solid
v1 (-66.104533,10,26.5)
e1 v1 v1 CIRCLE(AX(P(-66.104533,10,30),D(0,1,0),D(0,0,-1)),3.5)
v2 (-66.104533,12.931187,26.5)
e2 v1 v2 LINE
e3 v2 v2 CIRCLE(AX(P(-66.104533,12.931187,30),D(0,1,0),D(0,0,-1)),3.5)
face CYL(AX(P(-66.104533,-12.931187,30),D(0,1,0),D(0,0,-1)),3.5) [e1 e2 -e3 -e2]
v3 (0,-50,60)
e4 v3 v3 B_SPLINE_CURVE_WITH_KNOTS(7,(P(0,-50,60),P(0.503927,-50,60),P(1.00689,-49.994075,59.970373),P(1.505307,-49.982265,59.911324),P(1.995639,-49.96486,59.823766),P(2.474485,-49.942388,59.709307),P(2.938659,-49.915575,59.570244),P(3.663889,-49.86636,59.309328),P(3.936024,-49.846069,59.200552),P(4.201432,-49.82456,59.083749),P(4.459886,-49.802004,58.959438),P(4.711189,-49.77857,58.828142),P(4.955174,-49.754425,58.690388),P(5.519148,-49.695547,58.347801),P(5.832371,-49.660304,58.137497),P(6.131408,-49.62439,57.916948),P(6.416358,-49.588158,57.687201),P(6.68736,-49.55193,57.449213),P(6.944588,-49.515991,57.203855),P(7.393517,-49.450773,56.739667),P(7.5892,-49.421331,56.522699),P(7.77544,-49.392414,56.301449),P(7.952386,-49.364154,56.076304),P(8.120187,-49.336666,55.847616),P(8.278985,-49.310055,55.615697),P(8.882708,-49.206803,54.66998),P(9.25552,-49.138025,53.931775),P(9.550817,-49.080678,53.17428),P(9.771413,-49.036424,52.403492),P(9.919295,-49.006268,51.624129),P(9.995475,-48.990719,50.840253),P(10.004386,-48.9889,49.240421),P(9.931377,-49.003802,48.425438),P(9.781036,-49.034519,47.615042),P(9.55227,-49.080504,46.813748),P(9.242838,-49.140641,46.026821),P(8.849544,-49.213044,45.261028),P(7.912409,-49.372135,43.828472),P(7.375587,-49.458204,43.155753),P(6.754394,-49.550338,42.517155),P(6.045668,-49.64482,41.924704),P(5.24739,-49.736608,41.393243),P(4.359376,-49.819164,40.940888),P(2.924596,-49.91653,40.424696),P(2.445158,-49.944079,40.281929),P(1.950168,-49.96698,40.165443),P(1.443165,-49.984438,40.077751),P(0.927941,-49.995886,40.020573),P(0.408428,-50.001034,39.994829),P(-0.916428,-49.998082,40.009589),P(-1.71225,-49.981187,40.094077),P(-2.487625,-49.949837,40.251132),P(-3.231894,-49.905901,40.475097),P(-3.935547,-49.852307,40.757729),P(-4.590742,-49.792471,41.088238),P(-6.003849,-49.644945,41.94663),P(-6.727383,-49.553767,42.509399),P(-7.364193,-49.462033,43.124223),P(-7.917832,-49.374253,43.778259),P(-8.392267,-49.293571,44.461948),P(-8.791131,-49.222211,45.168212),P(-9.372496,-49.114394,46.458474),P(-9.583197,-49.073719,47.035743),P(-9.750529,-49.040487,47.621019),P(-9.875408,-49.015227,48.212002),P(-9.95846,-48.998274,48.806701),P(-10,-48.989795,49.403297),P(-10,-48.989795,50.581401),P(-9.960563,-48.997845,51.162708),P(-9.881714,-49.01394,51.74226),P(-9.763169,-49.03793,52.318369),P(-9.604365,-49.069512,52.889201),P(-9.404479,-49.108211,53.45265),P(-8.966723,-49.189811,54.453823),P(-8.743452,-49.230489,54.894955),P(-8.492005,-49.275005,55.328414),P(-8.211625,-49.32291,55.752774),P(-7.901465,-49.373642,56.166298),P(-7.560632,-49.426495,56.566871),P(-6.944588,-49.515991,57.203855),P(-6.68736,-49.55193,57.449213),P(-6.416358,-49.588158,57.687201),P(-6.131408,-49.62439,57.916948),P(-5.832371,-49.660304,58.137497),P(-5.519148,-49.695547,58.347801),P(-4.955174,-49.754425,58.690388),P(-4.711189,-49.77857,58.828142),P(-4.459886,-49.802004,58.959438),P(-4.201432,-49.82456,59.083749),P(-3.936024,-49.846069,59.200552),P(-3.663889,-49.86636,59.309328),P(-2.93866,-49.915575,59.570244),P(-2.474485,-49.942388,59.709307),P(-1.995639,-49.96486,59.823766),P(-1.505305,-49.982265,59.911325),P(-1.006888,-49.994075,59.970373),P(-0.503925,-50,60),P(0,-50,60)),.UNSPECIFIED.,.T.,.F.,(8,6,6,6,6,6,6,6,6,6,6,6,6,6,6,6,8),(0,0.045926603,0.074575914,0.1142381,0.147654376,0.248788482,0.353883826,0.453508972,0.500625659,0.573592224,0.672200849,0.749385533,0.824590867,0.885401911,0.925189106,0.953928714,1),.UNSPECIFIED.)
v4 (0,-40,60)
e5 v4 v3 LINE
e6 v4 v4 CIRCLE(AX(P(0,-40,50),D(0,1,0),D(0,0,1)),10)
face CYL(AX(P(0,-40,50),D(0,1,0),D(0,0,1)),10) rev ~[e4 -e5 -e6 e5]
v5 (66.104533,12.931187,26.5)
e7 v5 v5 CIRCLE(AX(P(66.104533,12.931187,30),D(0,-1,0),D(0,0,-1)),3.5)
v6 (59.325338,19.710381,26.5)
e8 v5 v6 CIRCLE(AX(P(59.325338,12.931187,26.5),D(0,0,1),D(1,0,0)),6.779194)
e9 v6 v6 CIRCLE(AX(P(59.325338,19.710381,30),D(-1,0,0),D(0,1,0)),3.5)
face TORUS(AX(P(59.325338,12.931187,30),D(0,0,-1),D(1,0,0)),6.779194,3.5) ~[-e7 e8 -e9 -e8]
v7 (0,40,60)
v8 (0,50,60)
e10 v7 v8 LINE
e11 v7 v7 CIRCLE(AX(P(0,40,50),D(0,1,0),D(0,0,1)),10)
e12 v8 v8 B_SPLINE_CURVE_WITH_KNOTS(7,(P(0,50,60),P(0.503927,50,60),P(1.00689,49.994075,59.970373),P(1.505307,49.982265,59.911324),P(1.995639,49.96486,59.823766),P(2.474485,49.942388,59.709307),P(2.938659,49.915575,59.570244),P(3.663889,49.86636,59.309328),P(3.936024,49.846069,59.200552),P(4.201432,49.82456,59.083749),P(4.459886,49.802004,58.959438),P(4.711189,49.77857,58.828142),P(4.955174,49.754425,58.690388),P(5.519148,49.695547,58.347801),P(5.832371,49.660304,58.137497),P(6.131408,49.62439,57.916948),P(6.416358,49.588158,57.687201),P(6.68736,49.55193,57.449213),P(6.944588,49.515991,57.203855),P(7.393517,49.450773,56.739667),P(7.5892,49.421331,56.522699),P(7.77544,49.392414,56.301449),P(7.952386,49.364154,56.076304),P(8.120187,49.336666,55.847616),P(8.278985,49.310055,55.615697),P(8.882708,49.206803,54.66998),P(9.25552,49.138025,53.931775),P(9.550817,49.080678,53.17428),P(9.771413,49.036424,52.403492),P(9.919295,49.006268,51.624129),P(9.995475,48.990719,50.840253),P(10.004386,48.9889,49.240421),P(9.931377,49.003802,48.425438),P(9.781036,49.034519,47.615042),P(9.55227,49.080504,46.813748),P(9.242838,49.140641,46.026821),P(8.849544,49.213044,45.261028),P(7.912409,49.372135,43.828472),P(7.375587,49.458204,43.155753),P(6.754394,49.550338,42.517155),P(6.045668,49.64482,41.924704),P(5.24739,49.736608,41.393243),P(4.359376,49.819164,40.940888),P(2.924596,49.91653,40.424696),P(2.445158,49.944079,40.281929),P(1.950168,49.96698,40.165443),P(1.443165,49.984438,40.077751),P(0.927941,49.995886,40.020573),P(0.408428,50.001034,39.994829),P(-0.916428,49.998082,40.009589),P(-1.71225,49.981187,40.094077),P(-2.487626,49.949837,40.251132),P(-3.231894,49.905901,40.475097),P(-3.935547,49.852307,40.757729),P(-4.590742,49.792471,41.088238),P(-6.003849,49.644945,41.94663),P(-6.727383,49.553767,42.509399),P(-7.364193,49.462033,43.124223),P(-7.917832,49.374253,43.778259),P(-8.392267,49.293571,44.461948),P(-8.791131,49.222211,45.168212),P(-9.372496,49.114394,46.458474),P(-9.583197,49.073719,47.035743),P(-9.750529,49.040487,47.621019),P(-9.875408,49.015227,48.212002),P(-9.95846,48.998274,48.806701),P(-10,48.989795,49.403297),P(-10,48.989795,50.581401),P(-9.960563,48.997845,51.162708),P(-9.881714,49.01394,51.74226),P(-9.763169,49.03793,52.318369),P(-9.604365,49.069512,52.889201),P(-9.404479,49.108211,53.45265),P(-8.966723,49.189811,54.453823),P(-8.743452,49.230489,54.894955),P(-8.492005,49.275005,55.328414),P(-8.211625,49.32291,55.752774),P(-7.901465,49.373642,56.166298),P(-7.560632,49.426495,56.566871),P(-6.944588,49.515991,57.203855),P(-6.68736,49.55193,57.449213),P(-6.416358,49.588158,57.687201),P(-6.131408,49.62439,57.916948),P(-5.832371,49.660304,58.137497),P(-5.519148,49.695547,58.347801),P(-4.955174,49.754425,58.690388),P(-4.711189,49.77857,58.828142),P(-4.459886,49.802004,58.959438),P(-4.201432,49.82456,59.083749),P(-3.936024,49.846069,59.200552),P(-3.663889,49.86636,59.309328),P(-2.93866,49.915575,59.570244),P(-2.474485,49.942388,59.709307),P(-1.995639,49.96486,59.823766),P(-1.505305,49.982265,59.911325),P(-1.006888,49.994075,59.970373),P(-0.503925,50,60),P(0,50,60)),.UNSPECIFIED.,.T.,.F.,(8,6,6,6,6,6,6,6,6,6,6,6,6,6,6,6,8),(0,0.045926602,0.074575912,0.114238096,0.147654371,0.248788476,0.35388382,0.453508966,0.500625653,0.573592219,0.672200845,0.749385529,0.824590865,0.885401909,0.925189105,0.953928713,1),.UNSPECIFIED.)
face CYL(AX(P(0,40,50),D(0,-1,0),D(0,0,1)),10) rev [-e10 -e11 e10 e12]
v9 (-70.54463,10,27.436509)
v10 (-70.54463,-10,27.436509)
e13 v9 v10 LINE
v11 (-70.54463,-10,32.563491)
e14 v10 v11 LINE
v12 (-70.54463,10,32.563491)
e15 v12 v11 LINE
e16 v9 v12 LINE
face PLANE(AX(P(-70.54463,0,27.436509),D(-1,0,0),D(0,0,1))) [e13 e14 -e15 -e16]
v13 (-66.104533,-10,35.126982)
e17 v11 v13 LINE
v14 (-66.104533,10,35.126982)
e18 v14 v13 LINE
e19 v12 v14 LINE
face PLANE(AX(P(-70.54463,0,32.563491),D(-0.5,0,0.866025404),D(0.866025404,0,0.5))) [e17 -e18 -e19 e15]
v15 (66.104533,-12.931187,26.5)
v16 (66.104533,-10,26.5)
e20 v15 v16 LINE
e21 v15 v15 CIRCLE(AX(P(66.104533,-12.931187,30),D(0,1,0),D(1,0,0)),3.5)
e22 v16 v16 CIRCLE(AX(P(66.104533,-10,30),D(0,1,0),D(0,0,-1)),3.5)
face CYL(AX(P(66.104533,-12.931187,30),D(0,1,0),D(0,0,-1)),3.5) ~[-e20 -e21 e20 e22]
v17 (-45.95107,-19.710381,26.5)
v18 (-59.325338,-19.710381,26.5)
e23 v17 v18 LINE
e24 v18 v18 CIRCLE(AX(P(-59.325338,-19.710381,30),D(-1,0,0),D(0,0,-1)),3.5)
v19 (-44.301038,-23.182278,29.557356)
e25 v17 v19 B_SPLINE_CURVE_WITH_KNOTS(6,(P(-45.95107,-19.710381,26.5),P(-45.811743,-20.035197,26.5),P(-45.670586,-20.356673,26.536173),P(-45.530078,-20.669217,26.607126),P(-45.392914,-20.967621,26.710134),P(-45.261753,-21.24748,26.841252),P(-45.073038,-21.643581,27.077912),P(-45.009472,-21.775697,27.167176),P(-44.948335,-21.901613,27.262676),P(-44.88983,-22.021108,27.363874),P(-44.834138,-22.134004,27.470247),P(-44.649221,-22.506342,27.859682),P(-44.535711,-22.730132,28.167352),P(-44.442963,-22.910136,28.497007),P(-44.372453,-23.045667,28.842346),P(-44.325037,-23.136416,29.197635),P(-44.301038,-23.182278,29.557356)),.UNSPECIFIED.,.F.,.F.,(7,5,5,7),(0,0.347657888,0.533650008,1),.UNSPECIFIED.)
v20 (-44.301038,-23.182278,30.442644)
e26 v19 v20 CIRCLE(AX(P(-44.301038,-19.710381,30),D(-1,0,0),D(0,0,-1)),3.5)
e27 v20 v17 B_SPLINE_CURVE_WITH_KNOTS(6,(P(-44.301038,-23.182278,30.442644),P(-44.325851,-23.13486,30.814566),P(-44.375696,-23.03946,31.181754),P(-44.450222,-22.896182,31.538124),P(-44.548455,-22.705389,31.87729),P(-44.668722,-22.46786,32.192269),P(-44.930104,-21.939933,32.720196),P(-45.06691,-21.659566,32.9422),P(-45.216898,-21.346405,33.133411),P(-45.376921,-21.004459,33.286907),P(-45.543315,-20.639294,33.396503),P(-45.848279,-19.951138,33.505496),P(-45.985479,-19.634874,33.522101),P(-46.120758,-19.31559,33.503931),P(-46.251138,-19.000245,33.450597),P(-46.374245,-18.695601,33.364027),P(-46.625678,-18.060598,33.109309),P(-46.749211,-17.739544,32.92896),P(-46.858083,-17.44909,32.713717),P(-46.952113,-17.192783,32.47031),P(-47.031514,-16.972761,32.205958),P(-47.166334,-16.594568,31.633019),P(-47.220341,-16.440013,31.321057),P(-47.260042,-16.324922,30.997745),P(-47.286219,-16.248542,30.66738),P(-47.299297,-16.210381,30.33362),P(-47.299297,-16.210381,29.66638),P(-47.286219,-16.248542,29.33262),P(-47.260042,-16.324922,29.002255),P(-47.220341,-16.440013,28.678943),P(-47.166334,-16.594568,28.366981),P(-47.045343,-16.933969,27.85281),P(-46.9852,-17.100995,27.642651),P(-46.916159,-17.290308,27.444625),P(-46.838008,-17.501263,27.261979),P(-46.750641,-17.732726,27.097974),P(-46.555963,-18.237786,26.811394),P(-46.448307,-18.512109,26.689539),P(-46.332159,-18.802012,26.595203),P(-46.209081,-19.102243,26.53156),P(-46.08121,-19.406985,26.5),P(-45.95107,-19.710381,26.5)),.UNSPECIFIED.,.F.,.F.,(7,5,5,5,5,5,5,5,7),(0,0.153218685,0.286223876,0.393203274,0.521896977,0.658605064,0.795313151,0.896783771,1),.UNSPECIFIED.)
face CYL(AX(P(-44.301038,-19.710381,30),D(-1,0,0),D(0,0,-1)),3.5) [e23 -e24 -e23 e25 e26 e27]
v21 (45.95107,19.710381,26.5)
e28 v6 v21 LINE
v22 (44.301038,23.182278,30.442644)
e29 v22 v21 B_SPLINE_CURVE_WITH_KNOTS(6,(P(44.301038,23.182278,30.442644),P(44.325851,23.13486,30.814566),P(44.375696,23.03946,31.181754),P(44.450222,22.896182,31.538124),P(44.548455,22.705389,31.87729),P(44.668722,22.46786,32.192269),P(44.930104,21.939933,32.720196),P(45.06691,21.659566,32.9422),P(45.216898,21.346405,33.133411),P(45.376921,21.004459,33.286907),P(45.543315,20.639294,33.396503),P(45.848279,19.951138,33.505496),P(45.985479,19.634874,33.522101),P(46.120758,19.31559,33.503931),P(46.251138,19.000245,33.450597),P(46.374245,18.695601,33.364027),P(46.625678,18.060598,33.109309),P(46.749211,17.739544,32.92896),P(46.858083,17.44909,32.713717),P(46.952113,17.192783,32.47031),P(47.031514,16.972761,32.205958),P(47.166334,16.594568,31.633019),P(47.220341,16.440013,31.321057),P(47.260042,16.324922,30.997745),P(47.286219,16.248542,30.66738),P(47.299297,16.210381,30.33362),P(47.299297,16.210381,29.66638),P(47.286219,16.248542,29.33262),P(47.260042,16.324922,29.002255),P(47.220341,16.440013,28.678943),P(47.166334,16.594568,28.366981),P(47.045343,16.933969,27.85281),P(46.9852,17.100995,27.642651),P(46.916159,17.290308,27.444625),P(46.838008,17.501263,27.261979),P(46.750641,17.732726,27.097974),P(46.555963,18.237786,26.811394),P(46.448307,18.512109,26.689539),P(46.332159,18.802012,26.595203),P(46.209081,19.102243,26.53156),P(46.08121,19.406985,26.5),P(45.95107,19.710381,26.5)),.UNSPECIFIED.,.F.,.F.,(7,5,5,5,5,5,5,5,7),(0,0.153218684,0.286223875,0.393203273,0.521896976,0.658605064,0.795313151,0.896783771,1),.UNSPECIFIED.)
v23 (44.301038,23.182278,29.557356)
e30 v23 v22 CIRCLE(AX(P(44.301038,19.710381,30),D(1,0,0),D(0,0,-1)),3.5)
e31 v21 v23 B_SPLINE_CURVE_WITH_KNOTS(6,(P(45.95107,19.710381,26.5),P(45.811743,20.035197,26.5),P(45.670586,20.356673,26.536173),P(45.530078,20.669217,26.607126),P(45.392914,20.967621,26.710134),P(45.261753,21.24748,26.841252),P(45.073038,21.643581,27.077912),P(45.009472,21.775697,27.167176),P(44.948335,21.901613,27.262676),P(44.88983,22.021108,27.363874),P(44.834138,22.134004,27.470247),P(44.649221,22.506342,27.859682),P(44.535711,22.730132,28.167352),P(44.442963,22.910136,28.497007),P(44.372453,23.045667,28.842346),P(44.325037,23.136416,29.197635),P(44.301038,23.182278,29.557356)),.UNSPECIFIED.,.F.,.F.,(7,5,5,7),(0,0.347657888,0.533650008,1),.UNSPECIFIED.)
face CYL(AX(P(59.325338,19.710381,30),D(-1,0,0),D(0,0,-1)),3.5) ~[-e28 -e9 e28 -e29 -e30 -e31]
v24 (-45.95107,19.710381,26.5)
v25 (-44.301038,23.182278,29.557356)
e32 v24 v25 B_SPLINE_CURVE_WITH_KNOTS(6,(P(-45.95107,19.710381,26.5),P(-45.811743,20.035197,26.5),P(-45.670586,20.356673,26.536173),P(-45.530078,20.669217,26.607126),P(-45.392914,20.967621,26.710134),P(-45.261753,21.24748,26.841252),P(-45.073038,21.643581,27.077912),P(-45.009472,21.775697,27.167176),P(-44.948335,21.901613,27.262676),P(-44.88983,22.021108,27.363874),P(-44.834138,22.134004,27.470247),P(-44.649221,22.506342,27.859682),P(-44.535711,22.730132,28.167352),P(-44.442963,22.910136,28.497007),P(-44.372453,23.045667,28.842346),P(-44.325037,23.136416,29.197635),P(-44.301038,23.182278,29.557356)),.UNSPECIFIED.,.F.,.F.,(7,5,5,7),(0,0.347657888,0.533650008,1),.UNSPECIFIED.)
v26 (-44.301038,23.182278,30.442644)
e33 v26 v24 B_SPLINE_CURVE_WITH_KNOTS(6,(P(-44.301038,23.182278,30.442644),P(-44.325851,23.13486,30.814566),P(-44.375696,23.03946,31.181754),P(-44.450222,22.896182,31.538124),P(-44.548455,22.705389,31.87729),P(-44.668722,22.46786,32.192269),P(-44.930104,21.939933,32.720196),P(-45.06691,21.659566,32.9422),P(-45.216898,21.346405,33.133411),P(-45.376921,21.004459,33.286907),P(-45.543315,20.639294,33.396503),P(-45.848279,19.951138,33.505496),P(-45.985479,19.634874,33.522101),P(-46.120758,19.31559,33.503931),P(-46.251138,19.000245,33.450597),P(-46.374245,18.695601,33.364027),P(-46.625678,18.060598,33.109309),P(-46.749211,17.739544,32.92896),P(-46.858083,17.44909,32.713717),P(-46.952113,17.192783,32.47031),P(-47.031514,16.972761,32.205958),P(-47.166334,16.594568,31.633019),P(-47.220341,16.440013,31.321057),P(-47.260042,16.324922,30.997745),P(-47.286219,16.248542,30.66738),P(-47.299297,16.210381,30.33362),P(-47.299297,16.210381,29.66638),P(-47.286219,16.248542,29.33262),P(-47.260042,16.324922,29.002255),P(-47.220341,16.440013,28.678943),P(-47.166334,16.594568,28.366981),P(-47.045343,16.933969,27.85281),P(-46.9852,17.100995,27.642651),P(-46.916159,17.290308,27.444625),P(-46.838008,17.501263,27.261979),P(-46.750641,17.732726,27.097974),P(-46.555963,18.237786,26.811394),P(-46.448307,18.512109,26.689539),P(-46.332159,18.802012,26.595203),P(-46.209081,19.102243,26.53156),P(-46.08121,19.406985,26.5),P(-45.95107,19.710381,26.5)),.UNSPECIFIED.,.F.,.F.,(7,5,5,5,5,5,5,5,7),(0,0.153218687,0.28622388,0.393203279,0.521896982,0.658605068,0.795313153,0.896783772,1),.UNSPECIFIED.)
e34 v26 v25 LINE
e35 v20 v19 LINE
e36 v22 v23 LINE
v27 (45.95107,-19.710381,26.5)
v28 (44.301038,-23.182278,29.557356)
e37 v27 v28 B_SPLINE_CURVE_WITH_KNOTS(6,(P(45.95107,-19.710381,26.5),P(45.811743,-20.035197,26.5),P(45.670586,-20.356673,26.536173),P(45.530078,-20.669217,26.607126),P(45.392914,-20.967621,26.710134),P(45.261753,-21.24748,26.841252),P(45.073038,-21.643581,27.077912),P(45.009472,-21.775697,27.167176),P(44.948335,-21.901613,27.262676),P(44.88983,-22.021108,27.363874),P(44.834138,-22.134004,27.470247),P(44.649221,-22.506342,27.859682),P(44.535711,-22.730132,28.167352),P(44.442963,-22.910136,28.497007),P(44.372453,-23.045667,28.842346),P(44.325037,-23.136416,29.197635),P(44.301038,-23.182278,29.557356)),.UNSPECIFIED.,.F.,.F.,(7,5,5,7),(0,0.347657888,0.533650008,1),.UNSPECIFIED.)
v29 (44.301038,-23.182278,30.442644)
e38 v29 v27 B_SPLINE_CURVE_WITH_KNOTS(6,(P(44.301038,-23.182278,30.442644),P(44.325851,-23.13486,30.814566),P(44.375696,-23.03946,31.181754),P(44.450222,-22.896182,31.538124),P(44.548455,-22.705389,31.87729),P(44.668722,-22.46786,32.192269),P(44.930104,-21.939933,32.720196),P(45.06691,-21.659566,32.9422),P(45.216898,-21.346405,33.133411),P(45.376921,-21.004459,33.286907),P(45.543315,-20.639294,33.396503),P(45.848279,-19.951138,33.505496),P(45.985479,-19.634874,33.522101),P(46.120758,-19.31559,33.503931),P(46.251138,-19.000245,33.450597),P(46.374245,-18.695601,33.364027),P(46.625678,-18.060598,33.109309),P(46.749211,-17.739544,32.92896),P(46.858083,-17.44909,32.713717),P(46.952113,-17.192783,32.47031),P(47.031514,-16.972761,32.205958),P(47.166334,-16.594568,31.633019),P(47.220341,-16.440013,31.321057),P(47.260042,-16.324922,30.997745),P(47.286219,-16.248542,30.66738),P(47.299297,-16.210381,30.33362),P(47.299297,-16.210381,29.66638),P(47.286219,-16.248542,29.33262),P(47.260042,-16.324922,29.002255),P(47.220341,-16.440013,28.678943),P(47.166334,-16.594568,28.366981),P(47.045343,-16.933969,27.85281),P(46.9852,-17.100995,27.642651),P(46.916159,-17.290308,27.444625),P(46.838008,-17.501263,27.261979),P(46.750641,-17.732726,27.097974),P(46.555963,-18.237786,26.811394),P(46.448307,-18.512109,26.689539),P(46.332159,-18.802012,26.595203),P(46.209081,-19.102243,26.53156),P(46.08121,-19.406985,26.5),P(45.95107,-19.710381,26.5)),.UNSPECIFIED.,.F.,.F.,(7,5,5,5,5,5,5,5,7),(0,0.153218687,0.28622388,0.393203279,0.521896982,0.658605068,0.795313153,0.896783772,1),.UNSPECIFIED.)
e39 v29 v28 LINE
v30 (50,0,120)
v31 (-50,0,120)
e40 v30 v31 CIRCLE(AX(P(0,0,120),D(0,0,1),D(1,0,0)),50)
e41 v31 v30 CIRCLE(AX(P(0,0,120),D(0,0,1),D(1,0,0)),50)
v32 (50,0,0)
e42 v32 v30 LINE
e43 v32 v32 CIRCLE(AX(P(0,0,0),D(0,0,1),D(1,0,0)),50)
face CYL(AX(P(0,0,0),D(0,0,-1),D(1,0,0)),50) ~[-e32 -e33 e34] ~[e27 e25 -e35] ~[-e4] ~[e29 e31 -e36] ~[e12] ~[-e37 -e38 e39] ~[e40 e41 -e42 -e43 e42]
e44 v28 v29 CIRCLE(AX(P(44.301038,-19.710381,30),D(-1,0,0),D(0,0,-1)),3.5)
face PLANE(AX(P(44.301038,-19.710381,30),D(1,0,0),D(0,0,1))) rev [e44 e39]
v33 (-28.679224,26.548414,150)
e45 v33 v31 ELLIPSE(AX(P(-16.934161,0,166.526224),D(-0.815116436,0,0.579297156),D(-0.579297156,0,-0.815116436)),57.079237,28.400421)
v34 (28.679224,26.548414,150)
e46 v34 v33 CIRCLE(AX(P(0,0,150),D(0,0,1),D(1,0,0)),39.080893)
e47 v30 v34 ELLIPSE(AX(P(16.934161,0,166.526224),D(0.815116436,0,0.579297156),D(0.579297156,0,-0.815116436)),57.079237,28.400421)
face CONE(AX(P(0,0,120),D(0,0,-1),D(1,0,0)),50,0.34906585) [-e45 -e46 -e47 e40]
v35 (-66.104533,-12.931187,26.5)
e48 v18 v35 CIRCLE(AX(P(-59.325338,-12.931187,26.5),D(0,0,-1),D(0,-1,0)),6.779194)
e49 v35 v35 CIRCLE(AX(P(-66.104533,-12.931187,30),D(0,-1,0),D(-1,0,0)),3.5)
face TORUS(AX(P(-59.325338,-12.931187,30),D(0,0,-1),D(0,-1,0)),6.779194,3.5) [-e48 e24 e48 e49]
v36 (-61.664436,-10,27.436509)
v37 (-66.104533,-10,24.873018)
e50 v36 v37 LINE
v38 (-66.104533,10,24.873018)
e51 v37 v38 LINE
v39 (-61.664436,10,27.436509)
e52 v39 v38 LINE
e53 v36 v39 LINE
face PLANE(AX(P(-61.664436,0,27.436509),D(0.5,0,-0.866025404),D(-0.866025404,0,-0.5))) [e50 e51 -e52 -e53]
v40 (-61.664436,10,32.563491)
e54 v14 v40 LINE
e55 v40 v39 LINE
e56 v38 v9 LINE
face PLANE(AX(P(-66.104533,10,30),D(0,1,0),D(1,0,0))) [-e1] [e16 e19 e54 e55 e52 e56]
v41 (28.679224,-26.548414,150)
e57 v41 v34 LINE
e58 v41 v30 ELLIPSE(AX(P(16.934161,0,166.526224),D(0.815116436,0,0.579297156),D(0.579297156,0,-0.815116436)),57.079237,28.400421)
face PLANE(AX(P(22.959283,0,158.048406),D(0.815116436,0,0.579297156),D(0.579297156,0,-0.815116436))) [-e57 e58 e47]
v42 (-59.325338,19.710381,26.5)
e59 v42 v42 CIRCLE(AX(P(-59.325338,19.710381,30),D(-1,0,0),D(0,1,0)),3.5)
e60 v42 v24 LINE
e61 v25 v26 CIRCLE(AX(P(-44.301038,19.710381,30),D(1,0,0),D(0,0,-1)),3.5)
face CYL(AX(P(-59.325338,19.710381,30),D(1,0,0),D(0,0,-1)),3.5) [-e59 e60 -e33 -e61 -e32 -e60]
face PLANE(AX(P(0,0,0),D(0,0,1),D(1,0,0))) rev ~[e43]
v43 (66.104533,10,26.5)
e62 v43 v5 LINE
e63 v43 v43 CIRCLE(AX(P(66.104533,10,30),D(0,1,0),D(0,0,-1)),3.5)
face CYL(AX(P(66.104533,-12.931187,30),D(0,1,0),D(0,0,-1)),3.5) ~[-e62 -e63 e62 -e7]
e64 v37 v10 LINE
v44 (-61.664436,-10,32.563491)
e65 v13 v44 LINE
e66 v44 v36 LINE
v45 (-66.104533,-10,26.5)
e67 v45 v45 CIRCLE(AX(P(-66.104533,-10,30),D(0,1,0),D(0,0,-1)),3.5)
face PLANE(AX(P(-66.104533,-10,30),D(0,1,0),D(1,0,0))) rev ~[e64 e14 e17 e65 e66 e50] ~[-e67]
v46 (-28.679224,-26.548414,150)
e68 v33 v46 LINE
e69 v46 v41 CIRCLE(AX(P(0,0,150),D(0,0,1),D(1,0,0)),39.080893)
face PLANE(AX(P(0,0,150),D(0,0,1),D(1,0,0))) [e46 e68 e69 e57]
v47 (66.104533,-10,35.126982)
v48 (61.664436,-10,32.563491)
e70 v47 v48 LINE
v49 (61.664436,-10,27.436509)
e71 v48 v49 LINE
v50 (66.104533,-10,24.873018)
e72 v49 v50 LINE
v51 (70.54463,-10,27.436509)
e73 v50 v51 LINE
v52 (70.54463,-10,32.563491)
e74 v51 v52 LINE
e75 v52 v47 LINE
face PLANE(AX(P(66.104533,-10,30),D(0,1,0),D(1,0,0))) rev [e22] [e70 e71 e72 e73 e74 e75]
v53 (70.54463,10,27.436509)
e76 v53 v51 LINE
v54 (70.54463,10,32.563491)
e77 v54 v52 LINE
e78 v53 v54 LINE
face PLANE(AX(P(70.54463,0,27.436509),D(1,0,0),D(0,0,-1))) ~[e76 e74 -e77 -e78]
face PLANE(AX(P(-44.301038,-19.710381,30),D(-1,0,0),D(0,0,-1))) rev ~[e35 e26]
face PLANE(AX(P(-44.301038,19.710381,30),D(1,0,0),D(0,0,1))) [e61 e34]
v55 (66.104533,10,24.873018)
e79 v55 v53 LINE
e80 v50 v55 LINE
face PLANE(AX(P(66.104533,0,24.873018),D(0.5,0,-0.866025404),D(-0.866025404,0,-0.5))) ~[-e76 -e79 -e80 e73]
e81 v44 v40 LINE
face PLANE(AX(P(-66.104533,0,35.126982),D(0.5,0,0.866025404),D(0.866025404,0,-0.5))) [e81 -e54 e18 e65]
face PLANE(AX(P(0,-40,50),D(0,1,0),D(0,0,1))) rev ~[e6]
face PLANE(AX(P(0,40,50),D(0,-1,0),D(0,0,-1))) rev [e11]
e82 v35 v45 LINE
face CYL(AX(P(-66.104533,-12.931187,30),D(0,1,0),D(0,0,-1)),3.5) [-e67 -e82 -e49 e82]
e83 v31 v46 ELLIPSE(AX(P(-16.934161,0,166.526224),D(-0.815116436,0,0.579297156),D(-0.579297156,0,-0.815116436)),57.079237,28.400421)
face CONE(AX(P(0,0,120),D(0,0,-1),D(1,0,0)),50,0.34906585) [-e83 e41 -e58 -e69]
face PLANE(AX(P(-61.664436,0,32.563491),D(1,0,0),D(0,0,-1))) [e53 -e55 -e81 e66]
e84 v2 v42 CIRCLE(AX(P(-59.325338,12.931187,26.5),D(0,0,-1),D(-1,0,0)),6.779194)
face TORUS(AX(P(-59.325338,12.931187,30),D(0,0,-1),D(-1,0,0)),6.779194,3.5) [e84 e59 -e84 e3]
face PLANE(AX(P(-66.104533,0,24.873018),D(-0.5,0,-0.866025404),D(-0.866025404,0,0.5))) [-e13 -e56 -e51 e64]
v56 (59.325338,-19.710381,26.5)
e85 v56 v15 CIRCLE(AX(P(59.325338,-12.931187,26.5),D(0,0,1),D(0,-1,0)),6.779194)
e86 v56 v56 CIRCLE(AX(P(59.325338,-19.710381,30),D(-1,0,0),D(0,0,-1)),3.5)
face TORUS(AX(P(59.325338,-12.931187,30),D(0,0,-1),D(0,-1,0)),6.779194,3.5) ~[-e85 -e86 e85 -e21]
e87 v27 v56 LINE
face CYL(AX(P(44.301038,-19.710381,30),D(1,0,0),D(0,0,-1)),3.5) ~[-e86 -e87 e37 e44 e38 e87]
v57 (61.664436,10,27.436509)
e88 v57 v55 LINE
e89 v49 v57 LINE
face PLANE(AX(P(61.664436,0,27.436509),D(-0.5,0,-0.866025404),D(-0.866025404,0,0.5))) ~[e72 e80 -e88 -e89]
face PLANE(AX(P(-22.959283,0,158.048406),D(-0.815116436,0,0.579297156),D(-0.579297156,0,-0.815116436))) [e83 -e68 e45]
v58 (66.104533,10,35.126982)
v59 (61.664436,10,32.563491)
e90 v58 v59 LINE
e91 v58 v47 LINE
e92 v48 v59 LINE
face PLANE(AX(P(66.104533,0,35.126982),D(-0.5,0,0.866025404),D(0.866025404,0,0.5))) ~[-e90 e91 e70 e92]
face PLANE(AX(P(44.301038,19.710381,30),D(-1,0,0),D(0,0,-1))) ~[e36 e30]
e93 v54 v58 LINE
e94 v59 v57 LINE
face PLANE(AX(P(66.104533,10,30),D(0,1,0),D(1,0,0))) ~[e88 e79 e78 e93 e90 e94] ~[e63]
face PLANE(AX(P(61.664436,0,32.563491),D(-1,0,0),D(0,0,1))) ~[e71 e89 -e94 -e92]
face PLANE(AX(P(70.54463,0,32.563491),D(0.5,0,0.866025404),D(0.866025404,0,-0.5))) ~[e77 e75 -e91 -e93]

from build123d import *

# Parameters (mm, degrees)
IZIM1_R                     = 50
Y_KSEKLIK_EKSTR_ZYON1_DEPTH = 150
PAH1_SIZE                   = 30
PAH1_SIZE2                  = 10.919107028
KES_EKSTR_ZYON1_DEPTH       = 50
S_P_R1_PROFILE_R            = 3.5
KES_EKSTR_ZYON2_START       = -40
IZIM20_R                    = 10
KES_EKSTR_ZYON2_DEPTH       = 100
Y_KSEKLIK_EKSTR_ZYON2_DEPTH = 10


with BuildPart() as part:
    # Çizim1 → Yükseklik-Ekstrüzyon1 (new body)
    with BuildSketch(Plane.XY):
        Circle(IZIM1_R)
    extrude(amount=Y_KSEKLIK_EKSTR_ZYON1_DEPTH)

    # Pah1
    pah1_edges = [part.edges().sort_by_distance(p)[0] for p in [
        (-50, 0, 150),
    ]]
    pah1_side = [part.faces().sort_by_distance(p)[0] for p in [
        (-50, 0, 75),
    ]]
    chamfer(pah1_edges, length=PAH1_SIZE, length2=PAH1_SIZE2, reference=pah1_side[0])

    # Çizim5 → Kes-Ekstrüzyon1 (cut, symmetric)
    with BuildSketch(Plane(origin=(0, 0, 0), x_dir=(1, 0, 0), z_dir=(0, 1, 0))):
        Polygon((-50, -120), (-120.002601454, -158.048405528), (-22.959282712, -158.048405528), align=None)
        Polygon((22.959282712, -158.048405528), (50, -120), (120.002601454, -158.048405528), align=None)
    extrude(amount=KES_EKSTR_ZYON1_DEPTH, both=True, mode=Mode.SUBTRACT)

    # Süpür1: sweep along a path in Çizim6
    with BuildLine(Plane.XY.offset(30)) as s_p_r1_path:
        Line((-44.301038276, -19.710381189), (-59.325338364, -19.710381189))
        ThreePointArc((-59.325338364, -19.710381189), (-64.118952606, -17.724801158), (-66.104532637, -12.931186916))
        Line((-66.104532637, -12.931186916), (-66.104532637, 12.931186916))
        ThreePointArc((-66.104532637, 12.931186916), (-64.118952606, 17.724801158), (-59.325338364, 19.710381189))
        Line((-59.325338364, 19.710381189), (-44.301038276, 19.710381189))
    # Süpür1 profile (on start of the path) → Süpür1 (sweep)
    with BuildSketch(Plane(origin=(-44.301038276, -19.710381189, 30), x_dir=(0, 0, -1), z_dir=(-1, 0, 0))):
        Circle(S_P_R1_PROFILE_R)
    s_p_r1 = sweep(path=s_p_r1_path.line)

    # Aynalama1: Süpür1 across plane
    add(s_p_r1.mirror(Plane(origin=(0, 0, 0), x_dir=(0, 0, 1), z_dir=(1, 0, 0))))

    # Çizim20 → Kes-Ekstrüzyon2 (cut)
    with BuildSketch(Plane(origin=(0, 0, 0), x_dir=(1, 0, 0), z_dir=(0, 1, 0)).offset(KES_EKSTR_ZYON2_START)):
        with Locations(Location((0, -50, 0), (0, 0, 270))):
            Circle(IZIM20_R)
    kes_ekstr_zyon2 = extrude(amount=-KES_EKSTR_ZYON2_DEPTH, mode=Mode.SUBTRACT)

    # Aynalama2: Kes-Ekstrüzyon2 across plane
    add(kes_ekstr_zyon2.mirror(Plane.ZX), mode=Mode.SUBTRACT)

    # Çizim21 → Yükseklik-Ekstrüzyon2 (add, symmetric)
    with BuildSketch(Plane(origin=(0, 0, 0), x_dir=(1, 0, 0), z_dir=(0, 1, 0))):
        Polygon((-66.104532637, -35.126982438), (-61.664435601, -32.563491219), (-61.664435601, -27.436508781), (-66.104532637, -24.873017562), (-70.544629673, -27.436508781), (-70.544629673, -32.563491219), align=None)
    y_kseklik_ekstr_zyon2 = extrude(amount=Y_KSEKLIK_EKSTR_ZYON2_DEPTH, both=True)

    # Aynalama3: Yükseklik-Ekstrüzyon2 across plane
    add(y_kseklik_ekstr_zyon2.mirror(Plane(origin=(0, 0, 0), x_dir=(0, 0, 1), z_dir=(1, 0, 0))))


solid = part.part
